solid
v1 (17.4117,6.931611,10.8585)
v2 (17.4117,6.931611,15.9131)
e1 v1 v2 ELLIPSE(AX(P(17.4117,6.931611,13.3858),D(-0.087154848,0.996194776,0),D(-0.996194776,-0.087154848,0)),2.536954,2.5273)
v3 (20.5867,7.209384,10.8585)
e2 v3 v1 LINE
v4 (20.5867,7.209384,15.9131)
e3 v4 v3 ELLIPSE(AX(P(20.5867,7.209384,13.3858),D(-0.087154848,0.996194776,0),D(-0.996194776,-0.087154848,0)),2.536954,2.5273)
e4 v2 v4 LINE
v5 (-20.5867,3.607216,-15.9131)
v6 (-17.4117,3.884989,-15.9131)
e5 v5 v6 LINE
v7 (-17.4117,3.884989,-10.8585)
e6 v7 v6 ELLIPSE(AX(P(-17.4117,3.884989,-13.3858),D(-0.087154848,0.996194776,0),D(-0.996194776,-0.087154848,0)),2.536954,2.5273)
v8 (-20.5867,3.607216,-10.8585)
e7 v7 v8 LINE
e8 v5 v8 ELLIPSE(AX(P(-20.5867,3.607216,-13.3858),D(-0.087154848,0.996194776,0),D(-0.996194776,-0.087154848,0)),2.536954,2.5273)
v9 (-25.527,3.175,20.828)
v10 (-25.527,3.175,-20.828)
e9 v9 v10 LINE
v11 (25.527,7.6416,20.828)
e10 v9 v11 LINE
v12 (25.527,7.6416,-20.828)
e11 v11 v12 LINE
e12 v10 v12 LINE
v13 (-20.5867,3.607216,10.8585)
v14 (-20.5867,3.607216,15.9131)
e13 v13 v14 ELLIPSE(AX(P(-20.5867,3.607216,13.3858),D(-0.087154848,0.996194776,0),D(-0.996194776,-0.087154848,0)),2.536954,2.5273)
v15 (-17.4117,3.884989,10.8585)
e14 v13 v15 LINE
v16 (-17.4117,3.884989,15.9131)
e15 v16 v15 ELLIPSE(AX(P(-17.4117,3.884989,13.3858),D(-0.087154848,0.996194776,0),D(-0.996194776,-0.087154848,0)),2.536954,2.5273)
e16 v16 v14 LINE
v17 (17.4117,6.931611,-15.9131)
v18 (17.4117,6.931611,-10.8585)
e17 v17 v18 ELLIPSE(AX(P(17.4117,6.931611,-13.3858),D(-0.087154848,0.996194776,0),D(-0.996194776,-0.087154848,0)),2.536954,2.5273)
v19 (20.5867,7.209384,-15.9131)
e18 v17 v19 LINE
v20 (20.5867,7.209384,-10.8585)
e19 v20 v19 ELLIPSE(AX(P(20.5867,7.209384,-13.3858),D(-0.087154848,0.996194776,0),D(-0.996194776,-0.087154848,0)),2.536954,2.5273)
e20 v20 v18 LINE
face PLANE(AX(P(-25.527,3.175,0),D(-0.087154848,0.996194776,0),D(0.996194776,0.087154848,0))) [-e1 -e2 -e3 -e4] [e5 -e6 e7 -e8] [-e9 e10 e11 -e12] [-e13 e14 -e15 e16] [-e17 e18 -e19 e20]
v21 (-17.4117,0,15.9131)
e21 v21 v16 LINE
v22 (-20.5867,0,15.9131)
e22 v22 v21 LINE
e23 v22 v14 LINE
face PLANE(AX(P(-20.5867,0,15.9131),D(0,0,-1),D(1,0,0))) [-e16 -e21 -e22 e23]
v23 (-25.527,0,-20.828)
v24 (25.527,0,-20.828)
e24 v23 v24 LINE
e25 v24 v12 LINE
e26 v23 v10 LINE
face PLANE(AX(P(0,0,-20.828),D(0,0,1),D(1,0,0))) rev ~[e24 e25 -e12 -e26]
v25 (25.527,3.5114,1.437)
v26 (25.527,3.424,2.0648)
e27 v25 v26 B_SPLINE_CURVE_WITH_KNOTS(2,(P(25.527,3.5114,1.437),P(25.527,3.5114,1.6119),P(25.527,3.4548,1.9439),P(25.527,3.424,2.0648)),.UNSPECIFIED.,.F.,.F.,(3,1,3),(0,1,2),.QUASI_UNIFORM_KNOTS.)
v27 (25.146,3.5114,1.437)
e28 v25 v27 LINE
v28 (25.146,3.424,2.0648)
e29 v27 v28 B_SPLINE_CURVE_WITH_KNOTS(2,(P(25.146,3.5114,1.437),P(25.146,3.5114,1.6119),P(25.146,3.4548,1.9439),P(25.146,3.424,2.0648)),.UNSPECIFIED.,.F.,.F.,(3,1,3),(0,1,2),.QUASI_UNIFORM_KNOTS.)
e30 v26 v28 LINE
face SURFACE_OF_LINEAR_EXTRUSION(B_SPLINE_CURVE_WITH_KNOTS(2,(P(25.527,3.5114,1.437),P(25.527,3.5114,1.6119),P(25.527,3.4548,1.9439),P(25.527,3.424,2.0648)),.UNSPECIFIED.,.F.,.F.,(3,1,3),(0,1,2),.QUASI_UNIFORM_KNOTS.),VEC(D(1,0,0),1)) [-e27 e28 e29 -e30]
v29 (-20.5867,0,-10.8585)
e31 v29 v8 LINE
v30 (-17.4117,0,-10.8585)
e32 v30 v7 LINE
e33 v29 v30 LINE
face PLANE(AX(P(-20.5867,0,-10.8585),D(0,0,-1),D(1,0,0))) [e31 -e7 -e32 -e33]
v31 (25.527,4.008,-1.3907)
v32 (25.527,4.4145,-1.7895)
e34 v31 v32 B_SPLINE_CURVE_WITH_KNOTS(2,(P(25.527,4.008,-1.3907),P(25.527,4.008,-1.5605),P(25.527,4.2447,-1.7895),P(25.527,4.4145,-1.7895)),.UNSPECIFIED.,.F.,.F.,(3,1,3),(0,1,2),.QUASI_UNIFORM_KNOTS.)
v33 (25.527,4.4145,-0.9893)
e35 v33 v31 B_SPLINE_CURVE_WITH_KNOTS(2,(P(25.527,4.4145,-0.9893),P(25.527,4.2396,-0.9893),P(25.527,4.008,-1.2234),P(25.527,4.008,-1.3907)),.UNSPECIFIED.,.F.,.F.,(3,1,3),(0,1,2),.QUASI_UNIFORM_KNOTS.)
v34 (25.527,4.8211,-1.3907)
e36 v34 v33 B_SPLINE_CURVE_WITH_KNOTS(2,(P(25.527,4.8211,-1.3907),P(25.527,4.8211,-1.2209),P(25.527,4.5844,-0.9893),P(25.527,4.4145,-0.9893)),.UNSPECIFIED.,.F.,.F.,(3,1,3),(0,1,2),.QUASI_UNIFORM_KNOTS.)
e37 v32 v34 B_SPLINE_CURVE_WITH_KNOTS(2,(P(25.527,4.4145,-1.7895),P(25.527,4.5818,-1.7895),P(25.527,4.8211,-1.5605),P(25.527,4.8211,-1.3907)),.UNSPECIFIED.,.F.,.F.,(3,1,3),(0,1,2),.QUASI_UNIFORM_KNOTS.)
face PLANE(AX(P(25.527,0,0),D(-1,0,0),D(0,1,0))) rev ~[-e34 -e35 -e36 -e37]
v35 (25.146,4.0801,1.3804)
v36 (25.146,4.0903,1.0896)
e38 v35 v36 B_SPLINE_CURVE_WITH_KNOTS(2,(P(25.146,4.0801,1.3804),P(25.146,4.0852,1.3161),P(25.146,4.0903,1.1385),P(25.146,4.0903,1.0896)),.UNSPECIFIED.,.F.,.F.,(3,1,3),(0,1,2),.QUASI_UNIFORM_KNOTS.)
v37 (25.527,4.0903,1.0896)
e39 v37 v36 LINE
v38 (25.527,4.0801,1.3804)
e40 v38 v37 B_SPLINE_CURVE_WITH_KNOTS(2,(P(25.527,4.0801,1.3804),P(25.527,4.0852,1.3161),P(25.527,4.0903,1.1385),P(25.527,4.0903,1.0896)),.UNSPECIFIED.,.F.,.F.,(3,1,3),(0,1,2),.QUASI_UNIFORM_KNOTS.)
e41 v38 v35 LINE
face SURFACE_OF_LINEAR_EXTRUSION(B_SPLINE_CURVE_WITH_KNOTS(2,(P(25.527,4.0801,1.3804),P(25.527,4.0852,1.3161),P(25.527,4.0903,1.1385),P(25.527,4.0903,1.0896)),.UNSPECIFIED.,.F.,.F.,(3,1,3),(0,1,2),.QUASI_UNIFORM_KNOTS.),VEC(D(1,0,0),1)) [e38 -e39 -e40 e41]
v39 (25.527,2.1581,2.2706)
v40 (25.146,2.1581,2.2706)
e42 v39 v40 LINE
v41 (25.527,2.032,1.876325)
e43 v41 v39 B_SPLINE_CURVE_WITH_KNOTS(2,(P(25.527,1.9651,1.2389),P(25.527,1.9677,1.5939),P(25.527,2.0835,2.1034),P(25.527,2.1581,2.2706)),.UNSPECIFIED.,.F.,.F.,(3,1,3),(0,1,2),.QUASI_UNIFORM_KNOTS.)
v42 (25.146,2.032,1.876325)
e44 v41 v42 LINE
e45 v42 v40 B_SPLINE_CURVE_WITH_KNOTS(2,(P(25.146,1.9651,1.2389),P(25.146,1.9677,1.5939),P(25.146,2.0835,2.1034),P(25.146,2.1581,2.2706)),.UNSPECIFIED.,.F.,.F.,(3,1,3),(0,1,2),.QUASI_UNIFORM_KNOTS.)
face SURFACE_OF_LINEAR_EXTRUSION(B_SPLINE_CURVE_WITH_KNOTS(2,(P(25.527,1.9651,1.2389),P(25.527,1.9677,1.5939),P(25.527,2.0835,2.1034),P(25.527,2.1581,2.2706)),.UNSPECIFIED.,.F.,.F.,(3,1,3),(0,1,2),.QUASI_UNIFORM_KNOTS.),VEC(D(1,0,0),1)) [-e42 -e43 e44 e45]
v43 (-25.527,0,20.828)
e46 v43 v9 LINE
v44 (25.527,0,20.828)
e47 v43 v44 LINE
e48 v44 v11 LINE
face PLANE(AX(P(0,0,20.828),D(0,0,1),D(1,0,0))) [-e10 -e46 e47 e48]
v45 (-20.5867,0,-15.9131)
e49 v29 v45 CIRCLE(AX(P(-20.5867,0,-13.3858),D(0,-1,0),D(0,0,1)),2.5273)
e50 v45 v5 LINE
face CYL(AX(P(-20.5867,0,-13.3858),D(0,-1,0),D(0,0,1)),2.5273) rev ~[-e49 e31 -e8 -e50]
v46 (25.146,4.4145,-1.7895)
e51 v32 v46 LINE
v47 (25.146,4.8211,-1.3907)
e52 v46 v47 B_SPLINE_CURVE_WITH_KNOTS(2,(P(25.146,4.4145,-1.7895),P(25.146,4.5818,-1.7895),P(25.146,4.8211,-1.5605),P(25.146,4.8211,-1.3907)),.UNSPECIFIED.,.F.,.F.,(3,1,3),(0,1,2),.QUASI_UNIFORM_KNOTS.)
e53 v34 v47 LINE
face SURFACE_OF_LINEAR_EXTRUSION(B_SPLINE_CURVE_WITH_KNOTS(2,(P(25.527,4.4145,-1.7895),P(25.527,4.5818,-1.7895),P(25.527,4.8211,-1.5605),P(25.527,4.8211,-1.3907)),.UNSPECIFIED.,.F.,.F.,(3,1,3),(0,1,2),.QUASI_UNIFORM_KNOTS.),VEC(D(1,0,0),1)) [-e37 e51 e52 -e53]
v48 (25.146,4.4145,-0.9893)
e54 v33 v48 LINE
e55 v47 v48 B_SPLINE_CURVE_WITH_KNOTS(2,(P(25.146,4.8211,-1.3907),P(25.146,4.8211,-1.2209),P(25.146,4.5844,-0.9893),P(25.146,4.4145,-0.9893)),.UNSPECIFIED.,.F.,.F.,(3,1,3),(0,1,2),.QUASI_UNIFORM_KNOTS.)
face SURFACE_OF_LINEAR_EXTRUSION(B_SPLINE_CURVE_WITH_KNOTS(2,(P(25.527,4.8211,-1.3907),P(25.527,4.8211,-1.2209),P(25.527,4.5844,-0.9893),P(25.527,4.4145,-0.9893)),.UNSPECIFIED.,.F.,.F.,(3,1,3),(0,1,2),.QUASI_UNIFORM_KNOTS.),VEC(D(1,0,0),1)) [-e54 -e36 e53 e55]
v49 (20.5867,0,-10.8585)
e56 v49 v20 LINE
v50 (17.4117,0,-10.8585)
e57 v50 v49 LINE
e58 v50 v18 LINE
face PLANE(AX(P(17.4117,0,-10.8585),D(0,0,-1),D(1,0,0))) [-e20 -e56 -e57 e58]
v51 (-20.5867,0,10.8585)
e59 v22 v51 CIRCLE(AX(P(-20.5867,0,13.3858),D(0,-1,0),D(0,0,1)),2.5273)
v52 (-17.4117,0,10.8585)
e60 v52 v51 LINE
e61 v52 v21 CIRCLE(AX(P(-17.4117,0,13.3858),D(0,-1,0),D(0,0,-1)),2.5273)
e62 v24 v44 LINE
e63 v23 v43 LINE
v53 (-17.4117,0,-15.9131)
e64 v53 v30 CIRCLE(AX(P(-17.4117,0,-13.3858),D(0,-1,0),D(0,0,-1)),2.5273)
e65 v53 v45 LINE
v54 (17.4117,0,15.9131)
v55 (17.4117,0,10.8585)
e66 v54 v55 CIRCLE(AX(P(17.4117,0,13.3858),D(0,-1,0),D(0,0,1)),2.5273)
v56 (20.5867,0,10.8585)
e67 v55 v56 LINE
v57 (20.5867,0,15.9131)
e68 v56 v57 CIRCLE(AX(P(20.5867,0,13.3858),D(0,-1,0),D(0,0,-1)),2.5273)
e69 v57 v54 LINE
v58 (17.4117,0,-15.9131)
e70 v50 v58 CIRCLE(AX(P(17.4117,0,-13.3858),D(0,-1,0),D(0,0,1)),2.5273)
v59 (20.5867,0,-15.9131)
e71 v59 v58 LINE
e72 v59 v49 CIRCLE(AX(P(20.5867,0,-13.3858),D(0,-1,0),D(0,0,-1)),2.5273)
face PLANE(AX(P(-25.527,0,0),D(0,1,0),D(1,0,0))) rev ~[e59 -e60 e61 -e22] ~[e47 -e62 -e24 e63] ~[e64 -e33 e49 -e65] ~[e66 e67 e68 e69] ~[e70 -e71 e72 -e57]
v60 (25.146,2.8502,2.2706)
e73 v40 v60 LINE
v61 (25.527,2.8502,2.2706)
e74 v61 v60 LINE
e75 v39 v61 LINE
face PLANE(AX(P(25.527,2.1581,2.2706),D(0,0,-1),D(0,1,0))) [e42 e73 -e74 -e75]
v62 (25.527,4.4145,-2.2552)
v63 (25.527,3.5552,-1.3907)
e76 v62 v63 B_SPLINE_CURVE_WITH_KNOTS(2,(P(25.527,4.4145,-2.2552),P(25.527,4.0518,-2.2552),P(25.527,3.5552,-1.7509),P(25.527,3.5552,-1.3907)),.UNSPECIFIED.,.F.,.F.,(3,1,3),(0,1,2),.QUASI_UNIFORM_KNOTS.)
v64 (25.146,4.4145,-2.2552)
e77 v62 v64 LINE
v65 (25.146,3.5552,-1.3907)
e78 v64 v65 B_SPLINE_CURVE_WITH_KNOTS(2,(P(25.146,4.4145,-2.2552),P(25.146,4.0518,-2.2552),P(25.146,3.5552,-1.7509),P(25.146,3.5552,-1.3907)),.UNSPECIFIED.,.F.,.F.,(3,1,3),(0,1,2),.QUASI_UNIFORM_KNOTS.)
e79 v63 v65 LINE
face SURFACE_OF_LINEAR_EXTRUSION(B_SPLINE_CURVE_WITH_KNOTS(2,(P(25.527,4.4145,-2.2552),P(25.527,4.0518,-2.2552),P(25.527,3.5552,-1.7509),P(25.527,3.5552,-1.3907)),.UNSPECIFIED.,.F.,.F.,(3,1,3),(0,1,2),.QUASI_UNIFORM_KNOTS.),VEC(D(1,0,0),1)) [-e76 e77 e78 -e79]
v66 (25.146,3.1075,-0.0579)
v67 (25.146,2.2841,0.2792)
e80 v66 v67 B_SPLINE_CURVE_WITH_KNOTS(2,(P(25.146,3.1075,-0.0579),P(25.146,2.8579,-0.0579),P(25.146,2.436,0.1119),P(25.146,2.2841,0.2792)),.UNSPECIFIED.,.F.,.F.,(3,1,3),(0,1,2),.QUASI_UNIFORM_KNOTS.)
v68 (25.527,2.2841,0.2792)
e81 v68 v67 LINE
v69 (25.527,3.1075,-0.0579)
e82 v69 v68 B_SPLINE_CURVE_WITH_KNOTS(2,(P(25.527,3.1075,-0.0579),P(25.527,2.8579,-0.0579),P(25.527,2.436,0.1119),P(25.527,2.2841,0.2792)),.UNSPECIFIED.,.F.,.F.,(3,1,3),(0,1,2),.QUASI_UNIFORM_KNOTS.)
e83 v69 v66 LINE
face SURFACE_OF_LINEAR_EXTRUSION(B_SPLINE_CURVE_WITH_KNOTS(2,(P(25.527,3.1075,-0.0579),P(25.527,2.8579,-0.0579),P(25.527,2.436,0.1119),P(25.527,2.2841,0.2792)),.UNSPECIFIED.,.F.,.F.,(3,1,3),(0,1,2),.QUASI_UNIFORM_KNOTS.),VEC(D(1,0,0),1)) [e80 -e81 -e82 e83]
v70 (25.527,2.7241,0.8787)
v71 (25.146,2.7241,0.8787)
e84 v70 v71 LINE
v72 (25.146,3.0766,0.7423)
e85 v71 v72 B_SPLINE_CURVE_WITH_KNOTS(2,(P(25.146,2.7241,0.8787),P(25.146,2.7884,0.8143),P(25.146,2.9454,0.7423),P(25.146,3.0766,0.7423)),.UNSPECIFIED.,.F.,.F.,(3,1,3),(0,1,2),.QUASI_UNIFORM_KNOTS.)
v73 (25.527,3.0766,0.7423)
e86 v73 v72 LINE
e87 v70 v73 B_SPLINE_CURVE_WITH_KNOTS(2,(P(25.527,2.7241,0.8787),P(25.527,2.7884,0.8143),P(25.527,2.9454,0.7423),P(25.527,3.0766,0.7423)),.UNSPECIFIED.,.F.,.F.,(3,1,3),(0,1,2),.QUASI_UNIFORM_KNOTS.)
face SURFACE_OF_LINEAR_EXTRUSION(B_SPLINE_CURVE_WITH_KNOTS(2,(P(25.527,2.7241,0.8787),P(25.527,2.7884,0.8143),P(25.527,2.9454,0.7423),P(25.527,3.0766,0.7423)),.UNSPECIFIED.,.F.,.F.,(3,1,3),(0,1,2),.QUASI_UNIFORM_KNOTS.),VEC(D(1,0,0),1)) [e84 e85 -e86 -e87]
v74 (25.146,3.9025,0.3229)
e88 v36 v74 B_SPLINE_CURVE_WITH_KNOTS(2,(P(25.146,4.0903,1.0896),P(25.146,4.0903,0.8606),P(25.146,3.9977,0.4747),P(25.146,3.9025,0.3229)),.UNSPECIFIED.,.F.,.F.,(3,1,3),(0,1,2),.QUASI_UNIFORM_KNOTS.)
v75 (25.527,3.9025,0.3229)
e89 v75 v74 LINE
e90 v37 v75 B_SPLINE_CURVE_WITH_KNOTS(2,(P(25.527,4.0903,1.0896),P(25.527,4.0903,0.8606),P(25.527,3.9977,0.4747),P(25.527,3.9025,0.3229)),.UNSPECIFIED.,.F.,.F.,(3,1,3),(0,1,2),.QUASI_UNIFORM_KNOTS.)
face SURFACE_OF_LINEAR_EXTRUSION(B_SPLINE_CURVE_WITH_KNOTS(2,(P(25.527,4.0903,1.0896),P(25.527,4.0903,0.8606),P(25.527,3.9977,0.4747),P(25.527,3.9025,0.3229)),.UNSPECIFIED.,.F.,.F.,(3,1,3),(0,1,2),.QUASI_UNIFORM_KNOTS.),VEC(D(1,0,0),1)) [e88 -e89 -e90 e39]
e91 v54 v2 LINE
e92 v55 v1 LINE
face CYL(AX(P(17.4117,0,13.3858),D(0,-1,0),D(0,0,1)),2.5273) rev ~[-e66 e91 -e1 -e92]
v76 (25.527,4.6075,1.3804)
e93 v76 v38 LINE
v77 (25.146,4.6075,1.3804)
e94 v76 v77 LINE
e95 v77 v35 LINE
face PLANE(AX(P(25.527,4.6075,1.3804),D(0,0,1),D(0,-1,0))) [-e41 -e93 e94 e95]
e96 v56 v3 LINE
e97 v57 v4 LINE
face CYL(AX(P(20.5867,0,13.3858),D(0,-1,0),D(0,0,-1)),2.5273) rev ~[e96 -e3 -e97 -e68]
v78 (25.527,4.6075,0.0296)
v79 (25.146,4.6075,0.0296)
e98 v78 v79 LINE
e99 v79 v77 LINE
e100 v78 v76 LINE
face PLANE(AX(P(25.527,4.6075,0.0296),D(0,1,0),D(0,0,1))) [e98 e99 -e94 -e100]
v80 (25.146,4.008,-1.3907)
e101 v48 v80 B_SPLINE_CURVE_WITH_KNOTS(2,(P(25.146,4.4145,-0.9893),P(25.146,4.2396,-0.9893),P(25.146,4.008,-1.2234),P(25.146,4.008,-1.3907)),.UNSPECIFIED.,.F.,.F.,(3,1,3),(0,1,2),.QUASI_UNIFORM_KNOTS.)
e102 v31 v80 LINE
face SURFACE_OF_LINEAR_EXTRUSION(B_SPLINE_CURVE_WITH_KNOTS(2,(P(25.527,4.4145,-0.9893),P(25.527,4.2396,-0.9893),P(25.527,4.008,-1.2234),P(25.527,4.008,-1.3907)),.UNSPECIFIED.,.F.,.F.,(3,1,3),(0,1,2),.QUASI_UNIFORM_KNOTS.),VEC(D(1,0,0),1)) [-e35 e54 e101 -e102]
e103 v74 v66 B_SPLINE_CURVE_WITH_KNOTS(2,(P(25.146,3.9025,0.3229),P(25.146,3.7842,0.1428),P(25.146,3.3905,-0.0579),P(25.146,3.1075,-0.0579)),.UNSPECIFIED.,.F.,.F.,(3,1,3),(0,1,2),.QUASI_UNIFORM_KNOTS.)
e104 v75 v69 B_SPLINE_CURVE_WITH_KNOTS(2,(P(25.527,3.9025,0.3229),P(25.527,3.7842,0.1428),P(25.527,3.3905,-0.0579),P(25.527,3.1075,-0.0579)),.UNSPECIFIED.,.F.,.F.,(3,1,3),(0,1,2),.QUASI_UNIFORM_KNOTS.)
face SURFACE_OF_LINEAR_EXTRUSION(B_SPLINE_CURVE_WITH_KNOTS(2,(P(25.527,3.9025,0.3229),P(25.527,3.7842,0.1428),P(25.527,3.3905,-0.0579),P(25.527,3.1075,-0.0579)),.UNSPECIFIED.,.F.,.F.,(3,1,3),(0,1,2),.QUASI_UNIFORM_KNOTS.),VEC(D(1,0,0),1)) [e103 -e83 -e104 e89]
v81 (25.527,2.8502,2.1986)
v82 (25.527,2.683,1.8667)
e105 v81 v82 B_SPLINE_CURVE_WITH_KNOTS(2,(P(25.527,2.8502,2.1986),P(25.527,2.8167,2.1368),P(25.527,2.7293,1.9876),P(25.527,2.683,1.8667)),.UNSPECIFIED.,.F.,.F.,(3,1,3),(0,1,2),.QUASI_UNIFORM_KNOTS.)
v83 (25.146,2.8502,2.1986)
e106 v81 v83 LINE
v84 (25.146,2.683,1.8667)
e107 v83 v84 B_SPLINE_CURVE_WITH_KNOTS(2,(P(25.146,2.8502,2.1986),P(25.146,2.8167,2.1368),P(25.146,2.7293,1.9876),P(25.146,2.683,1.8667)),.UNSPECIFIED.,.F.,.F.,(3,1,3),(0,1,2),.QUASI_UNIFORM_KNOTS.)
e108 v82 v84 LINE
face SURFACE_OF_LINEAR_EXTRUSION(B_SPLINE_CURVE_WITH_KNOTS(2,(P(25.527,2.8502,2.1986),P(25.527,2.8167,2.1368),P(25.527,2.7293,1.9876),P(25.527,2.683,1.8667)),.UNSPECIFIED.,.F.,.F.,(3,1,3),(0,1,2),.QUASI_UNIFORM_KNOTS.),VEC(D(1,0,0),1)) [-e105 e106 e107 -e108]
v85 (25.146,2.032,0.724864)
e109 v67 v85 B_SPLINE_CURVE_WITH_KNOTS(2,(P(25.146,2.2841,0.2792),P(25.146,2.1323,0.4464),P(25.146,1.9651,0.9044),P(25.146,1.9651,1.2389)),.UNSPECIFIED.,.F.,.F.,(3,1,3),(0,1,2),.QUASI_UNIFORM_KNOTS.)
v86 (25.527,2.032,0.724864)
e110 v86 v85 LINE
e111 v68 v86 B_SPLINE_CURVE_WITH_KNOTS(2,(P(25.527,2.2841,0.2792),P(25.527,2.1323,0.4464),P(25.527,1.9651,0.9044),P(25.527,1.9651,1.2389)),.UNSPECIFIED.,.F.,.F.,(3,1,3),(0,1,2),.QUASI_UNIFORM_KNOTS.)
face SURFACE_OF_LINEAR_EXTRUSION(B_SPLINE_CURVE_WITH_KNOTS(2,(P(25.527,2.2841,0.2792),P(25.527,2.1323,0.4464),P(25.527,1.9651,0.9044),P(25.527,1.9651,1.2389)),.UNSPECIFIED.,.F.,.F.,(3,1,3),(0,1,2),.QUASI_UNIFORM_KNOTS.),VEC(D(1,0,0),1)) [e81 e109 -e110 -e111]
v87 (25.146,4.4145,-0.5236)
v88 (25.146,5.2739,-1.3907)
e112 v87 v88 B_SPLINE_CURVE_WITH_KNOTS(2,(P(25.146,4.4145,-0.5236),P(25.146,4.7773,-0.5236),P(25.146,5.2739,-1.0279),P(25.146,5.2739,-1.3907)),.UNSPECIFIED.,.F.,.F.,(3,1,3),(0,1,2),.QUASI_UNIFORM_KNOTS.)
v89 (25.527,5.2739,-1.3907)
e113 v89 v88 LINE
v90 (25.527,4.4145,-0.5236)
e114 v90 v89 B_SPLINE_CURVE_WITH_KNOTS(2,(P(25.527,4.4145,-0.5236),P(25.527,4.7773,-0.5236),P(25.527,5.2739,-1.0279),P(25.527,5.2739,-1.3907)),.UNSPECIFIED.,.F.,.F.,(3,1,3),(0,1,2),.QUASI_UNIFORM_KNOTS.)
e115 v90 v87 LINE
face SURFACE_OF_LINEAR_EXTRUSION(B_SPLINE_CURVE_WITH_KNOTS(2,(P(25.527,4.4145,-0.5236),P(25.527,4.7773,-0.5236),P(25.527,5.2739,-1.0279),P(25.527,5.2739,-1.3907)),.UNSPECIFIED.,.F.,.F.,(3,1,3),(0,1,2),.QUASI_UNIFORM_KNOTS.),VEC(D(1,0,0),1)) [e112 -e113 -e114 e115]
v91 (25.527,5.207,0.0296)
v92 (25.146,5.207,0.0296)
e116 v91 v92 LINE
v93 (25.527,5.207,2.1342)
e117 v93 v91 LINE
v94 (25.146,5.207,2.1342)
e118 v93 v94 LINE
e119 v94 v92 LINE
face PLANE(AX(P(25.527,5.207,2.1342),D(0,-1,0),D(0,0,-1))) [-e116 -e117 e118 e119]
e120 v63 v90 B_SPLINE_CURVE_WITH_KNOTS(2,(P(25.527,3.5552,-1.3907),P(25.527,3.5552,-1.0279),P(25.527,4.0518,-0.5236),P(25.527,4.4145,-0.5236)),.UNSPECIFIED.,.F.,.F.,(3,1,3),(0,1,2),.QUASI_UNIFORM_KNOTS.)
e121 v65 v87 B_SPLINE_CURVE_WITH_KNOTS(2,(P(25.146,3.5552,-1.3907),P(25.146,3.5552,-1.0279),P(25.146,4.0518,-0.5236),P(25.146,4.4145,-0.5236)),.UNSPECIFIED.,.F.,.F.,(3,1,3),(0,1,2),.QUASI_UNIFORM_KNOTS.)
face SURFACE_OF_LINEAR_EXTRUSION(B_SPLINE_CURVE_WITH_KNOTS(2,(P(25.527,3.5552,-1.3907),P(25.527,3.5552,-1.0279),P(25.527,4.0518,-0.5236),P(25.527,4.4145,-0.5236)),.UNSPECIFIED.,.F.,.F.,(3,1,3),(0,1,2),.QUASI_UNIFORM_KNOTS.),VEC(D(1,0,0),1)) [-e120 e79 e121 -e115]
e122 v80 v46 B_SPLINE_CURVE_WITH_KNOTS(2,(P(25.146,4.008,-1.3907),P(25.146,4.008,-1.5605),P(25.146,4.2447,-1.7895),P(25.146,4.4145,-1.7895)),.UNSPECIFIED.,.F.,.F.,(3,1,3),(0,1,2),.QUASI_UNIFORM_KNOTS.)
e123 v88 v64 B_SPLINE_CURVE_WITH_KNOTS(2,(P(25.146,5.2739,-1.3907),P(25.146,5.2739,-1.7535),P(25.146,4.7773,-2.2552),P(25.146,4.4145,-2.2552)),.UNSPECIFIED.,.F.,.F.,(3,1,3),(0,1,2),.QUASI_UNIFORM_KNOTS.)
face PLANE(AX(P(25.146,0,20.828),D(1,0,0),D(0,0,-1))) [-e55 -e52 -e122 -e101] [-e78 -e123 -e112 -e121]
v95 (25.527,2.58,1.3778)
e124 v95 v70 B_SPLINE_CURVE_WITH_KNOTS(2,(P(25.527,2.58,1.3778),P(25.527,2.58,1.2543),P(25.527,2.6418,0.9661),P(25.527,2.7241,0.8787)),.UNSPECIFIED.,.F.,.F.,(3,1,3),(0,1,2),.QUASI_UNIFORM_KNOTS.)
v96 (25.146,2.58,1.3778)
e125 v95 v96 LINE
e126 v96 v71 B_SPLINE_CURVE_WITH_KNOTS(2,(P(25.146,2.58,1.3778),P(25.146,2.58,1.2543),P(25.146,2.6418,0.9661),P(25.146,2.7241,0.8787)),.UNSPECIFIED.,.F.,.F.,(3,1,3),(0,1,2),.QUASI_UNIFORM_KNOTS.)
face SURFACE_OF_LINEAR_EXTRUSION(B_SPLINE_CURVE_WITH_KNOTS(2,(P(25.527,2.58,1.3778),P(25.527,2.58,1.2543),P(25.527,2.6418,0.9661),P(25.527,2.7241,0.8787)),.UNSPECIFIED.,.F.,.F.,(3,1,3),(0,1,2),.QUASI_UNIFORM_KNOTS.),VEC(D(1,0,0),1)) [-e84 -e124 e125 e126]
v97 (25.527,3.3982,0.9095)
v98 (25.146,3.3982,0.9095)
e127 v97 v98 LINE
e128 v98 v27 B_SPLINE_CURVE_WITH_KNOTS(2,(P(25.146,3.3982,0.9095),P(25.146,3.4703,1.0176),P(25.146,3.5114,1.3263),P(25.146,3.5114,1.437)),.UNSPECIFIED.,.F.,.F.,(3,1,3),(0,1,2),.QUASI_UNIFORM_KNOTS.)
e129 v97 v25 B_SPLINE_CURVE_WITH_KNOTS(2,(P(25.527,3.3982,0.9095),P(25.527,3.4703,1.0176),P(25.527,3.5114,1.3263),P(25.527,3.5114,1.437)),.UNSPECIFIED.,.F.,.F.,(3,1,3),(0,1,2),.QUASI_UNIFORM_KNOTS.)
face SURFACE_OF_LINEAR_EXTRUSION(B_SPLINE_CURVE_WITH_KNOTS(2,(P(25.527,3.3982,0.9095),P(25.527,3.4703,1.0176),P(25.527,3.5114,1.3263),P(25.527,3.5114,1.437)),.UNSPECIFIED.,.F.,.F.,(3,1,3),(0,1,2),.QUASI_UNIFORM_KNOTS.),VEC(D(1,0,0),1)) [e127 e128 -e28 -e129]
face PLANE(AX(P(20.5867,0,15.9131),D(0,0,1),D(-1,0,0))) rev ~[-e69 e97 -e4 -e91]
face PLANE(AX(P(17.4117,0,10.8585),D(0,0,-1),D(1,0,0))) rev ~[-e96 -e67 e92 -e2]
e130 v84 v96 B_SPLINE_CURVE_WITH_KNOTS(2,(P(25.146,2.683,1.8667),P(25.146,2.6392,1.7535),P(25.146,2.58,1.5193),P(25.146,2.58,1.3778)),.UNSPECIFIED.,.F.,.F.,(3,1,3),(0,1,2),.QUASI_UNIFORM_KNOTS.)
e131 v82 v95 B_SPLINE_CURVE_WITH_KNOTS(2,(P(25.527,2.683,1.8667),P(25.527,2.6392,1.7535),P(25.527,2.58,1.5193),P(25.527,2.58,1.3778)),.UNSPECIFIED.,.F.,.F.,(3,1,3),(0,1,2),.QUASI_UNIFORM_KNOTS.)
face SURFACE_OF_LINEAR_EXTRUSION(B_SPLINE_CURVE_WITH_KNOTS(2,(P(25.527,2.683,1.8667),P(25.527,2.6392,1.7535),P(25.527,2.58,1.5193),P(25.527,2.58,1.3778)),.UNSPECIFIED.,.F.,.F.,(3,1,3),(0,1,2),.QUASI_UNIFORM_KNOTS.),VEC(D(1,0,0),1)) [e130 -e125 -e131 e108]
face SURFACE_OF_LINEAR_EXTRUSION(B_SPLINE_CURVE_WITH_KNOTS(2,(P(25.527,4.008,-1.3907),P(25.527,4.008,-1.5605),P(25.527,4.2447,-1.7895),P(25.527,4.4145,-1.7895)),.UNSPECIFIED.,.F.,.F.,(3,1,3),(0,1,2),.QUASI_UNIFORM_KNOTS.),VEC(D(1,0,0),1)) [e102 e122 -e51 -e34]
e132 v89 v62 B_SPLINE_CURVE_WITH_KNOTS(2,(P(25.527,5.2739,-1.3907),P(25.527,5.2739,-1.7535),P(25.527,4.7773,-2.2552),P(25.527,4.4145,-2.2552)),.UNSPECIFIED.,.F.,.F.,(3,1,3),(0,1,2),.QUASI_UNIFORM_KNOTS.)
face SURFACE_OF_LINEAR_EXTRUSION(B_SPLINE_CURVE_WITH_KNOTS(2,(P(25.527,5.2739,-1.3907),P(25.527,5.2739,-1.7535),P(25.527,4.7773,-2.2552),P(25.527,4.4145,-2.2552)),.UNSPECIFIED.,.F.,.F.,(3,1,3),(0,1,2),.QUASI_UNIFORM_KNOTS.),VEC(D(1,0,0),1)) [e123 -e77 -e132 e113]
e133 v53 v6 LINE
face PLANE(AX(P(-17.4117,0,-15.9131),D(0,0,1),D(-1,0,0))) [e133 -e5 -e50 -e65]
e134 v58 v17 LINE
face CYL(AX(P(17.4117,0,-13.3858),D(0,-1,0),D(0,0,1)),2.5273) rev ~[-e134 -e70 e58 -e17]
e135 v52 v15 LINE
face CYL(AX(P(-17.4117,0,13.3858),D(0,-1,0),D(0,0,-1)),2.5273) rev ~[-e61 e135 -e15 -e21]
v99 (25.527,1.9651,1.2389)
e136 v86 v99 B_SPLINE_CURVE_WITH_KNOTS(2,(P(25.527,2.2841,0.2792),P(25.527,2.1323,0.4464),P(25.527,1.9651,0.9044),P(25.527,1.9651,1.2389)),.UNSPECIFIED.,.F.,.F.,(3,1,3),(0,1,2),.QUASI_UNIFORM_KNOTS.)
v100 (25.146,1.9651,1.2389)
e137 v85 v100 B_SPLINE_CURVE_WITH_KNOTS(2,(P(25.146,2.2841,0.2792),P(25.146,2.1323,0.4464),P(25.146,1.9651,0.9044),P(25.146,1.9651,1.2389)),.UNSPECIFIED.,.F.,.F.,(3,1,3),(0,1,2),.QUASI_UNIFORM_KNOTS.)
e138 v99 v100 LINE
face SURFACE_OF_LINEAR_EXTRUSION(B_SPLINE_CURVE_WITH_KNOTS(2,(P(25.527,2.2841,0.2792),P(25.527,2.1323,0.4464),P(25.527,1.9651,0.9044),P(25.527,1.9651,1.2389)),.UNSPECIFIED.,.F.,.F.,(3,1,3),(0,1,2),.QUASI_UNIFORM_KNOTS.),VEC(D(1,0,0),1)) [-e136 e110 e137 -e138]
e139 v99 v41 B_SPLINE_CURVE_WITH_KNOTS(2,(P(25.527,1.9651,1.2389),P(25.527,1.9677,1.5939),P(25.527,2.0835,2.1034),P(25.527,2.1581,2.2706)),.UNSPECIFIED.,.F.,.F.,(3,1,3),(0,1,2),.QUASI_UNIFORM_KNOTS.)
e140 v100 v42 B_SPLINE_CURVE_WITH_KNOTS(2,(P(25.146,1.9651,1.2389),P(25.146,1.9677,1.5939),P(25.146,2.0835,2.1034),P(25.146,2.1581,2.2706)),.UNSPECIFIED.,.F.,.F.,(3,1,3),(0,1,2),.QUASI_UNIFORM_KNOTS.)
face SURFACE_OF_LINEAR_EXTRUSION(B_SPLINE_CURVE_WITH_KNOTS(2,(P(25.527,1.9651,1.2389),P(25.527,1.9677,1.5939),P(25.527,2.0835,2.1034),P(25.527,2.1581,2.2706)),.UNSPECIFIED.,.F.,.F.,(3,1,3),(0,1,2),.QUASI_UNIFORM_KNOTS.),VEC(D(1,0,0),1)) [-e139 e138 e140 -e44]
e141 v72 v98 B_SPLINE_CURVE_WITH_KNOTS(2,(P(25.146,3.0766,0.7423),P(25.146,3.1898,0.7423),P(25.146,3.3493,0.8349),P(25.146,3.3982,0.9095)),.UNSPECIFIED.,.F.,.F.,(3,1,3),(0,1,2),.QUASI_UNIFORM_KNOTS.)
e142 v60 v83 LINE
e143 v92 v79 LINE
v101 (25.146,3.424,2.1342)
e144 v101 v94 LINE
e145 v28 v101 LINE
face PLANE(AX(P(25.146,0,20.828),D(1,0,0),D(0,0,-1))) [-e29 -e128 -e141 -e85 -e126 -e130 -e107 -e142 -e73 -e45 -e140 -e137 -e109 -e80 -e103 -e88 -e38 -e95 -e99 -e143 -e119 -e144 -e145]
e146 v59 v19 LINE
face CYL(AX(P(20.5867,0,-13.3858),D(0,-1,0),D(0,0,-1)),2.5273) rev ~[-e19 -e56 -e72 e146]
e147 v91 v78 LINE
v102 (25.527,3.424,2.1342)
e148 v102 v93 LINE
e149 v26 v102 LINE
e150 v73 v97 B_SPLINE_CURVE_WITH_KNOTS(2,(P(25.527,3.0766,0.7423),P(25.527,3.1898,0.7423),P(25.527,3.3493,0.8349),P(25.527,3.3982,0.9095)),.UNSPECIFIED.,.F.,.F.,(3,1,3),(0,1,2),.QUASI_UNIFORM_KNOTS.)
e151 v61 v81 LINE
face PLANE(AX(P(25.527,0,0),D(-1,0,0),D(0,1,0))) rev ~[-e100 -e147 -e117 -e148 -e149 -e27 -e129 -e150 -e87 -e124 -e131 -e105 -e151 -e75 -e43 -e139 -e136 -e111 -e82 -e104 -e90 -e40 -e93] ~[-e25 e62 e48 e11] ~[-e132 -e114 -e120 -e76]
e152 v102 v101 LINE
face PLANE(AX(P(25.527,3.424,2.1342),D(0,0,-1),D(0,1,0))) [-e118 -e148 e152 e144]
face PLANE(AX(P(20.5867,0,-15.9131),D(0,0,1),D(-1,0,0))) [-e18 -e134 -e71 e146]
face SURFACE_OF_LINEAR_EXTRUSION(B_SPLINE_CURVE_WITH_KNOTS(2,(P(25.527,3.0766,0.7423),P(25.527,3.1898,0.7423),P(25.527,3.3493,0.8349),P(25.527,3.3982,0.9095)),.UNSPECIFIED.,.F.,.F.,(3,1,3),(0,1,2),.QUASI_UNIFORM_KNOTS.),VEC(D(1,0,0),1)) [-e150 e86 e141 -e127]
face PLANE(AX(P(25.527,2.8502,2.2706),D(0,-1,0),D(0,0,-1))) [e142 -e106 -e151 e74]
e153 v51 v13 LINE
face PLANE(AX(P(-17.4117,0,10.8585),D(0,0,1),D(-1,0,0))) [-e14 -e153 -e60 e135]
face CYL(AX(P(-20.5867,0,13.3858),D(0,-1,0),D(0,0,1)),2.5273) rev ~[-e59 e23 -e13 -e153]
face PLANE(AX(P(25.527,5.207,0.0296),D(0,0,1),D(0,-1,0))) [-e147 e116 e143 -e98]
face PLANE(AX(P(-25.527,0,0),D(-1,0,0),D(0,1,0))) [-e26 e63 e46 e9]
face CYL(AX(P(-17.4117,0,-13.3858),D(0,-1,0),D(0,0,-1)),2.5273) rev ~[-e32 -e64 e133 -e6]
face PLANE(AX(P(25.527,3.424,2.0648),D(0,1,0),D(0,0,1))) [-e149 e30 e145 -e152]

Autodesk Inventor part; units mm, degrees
ref_plane "YZ Plane" through (0, 0, 0) normal (1, 0, 0) x (0, 1, 0)
ref_plane "XZ Plane" through (0, 0, 0) normal (0, 1, 0) x (-1, 0, 0)
ref_plane "XY Plane" through (0, 0, 0) normal (0, 0, 1) x (1, 0, 0)
sketch "Sketch1" plane through (0, 0, 0) normal (0, 1, 0) x (-1, 0, 0)
  line L0 (25.527, 20.828) -> (-25.527, 20.828)
  line L1 (-25.527, 20.828) -> (-25.527, -20.828)
  line L2 (-25.527, -20.828) -> (25.527, -20.828)
  line L3 (25.527, -20.828) -> (25.527, 20.828)
  circle A0 centre (18.9992, 13.3858) radius 1.9837
  circle A1 centre (18.9992, -13.3858) radius 1.9837
  circle A2 centre (-18.9992, -13.3858) radius 1.9837
  circle A3 centre (-18.9992, 13.3858) radius 1.9837
  circle A4 centre (18.9992, 13.3858) radius 3.048 construction
  point P0 (0, 0)
  point P1 (25.527, 0)
  point P2 (0, -20.828)
  dimension "d0" = 3.9675
  dimension "d1" = 41.656
  dimension "d2" = 51.054
  dimension "d3" = 6.096
  dimension "d4" = 7.4422
  dimension "d5" = 6.5278
  dimension "d6" = 7.4422
  dimension "d7" = 6.5278
sketch "Sketch10" plane through (0, 0, 0) normal (0, 0, 1) x (1, 0, 0)
  line L0 (-25.527, 0) -> (25.527, 0)
  line L1 (25.527, 0) -> (25.527, 7.6416)
  line L2 (-25.527, 0) -> (-25.527, 3.175)
  line L3 (-25.527, 3.175) -> (25.527, 7.6416)
  point P0 (0, 0)
  dimension "d61" = 5
  dimension "d62" = 3.175
extrude "Extrusion8" add sketch "Sketch10" along normal mid plane 41.656
sketch "Sketch11" plane through (-25.527, 0, 20.828) normal (0, -1, 0) x (1, 0, 0)
  line L0 (46.1137, -7.4422) -> (42.9387, -7.4422) construction
  line L1 (46.1137, -4.9149) -> (42.9387, -4.9149)
  line L2 (42.9387, -9.9695) -> (46.1137, -9.9695)
  arc A0 (46.1137, -9.9695) -> (46.1137, -4.9149) centre (46.1137, -7.4422) ccw
  arc A1 (42.9387, -4.9149) -> (42.9387, -9.9695) centre (42.9387, -7.4422) ccw
  line L3 (46.1137, -34.2138) -> (42.9387, -34.2138) construction
  line L4 (51.054, -41.656) -> (51.054, 0) projected
  line L5 (46.1137, -36.7411) -> (42.9387, -36.7411)
  line L6 (42.9387, -31.6865) -> (46.1137, -31.6865)
  arc A2 (46.1137, -36.7411) -> (46.1137, -31.6865) centre (46.1137, -34.2138) ccw
  arc A3 (42.9387, -31.6865) -> (42.9387, -36.7411) centre (42.9387, -34.2138) ccw
  line L7 (8.1153, -34.2138) -> (4.9403, -34.2138) construction
  line L8 (8.1153, -36.7411) -> (4.9403, -36.7411)
  line L9 (4.9403, -31.6865) -> (8.1153, -31.6865)
  arc A4 (8.1153, -36.7411) -> (8.1153, -31.6865) centre (8.1153, -34.2138) ccw
  arc A5 (4.9403, -31.6865) -> (4.9403, -36.7411) centre (4.9403, -34.2138) ccw
  line L10 (8.1153, -7.4422) -> (4.9403, -7.4422) construction
  line L11 (8.1153, -9.9695) -> (4.9403, -9.9695)
  line L12 (4.9403, -4.9149) -> (8.1153, -4.9149)
  arc A6 (8.1153, -9.9695) -> (8.1153, -4.9149) centre (8.1153, -7.4422) ccw
  arc A7 (4.9403, -4.9149) -> (4.9403, -9.9695) centre (4.9403, -7.4422) ccw
  point P0 (25.527, -20.828)
  point P1 (44.5262, -7.4422)
  point P2 (44.5262, -34.2138)
  point P3 (6.5278, -34.2138)
  point P4 (6.5278, -7.4422)
  point P5 (44.5262, -7.4422)
  point P6 (44.5262, -34.2138)
  point P7 (6.5278, -34.2138)
  point P8 (6.5278, -7.4422)
  point P9 (44.5262, -9.9695)
  point P10 (6.5278, -36.7411)
  dimension "d65" = 3.175
  dimension "d66" = 2.5273
extrude "Extrusion9" cut sketch "Sketch11" against normal blind 41.656
sketch "Sketch13" plane through (25.527, 0, 20.828) normal (1, 0, 0) x (0, 0, -1)
  line L0 (41.656, 7.6416) -> (0, 7.6416) projected
  line L1 (0, 0) -> (0, 7.6416) projected
  line L2 (41.656, 0) -> (0, 0) projected
  line L3 (41.656, 7.6416) -> (41.656, 0) projected
  line L4 (25.4999, 2.032) -> (16.1561, 2.032)
  spline S0 degree 2 poles (20.8859, 3.1075) (20.8859, 2.8579) (20.7161, 2.436) (20.5488, 2.2841) knots 0 0 0 1 2 2 2
  spline S1 degree 2 poles (20.5488, 2.2841) (20.3816, 2.1323) (19.9236, 1.9651) (19.5891, 1.9651) knots 0 0 0 1 2 2 2
  spline S2 degree 2 poles (19.5891, 1.9651) (19.2341, 1.9677) (18.7246, 2.0835) (18.5574, 2.1581) knots 0 0 0 1 2 2 2
  line L5 (18.5574, 2.1581) -> (18.5574, 2.8502)
  line L6 (18.5574, 2.8502) -> (18.6294, 2.8502)
  spline S3 degree 2 poles (18.6294, 2.8502) (18.6912, 2.8167) (18.8404, 2.7293) (18.9613, 2.683) knots 0 0 0 1 2 2 2
  spline S4 degree 2 poles (18.9613, 2.683) (19.0745, 2.6392) (19.3087, 2.58) (19.4502, 2.58) knots 0 0 0 1 2 2 2
  spline S5 degree 2 poles (19.4502, 2.58) (19.5737, 2.58) (19.8619, 2.6418) (19.9493, 2.7241) knots 0 0 0 1 2 2 2
  spline S6 degree 2 poles (19.9493, 2.7241) (20.0137, 2.7884) (20.0857, 2.9454) (20.0857, 3.0766) knots 0 0 0 1 2 2 2
  spline S7 degree 2 poles (20.0857, 3.0766) (20.0857, 3.1898) (19.9931, 3.3493) (19.9185, 3.3982) knots 0 0 0 1 2 2 2
  spline S8 degree 2 poles (19.9185, 3.3982) (19.8104, 3.4703) (19.5017, 3.5114) (19.391, 3.5114) knots 0 0 0 1 2 2 2
  spline S9 degree 2 poles (19.391, 3.5114) (19.2161, 3.5114) (18.8841, 3.4548) (18.7632, 3.424) knots 0 0 0 1 2 2 2
  line L7 (18.7632, 3.424) -> (18.6938, 3.424)
  line L8 (18.6938, 3.424) -> (18.6938, 5.207)
  line L9 (18.6938, 5.207) -> (20.7984, 5.207)
  line L10 (20.7984, 5.207) -> (20.7984, 4.6075)
  line L11 (20.7984, 4.6075) -> (19.4476, 4.6075)
  line L12 (19.4476, 4.6075) -> (19.4476, 4.0801)
  spline S10 degree 2 poles (19.4476, 4.0801) (19.5119, 4.0852) (19.6895, 4.0903) (19.7384, 4.0903) knots 0 0 0 1 2 2 2
  spline S11 degree 2 poles (19.7384, 4.0903) (19.9674, 4.0903) (20.3533, 3.9977) (20.5051, 3.9025) knots 0 0 0 1 2 2 2
  spline S12 degree 2 poles (20.5051, 3.9025) (20.6852, 3.7842) (20.8859, 3.3905) (20.8859, 3.1075) knots 0 0 0 1 2 2 2
  spline S13 degree 2 poles (23.0832, 4.4145) (23.0832, 4.0518) (22.5789, 3.5552) (22.2187, 3.5552) knots 0 0 0 1 2 2 2
  spline S14 degree 2 poles (22.2187, 3.5552) (21.8559, 3.5552) (21.3516, 4.0518) (21.3516, 4.4145) knots 0 0 0 1 2 2 2
  spline S15 degree 2 poles (21.3516, 4.4145) (21.3516, 4.7773) (21.8559, 5.2739) (22.2187, 5.2739) knots 0 0 0 1 2 2 2
  spline S16 degree 2 poles (22.2187, 5.2739) (22.5815, 5.2739) (23.0832, 4.7773) (23.0832, 4.4145) knots 0 0 0 1 2 2 2
  spline S17 degree 2 poles (22.6175, 4.4145) (22.6175, 4.5818) (22.3885, 4.8211) (22.2187, 4.8211) knots 0 0 0 1 2 2 2
  spline S18 degree 2 poles (22.2187, 4.8211) (22.0489, 4.8211) (21.8173, 4.5844) (21.8173, 4.4145) knots 0 0 0 1 2 2 2
  spline S19 degree 2 poles (21.8173, 4.4145) (21.8173, 4.2396) (22.0514, 4.008) (22.2187, 4.008) knots 0 0 0 1 2 2 2
  spline S20 degree 2 poles (22.2187, 4.008) (22.3885, 4.008) (22.6175, 4.2447) (22.6175, 4.4145) knots 0 0 0 1 2 2 2
  point P0 (20.828, 0)
  point P1 (20.828, 0)
  point P2 (20.828, 2.032)
  dimension "d69" = 2.032
extrude "Extrusion10" cut sketch "Sketch13" against normal blind 0.381 contours S1 S2 L4 | L4 S2 L5 L6 S3 S4 S5 S6 S7 S8 S9 L7 L8 L9 L10 L11 L12 S10 S11 S12 S0 S1 | S13 S14 S15 S16
equation "\"d6\" = d4"
equation "\"d7\" = d5"
equation "\"d23\" = d22"
equation "\"d25\" = 0.5 * d24"
equation "\"d22\" = 3.175"
equation "\"d24\" = 4.7625"
properties part number "shim 5 Deg"
